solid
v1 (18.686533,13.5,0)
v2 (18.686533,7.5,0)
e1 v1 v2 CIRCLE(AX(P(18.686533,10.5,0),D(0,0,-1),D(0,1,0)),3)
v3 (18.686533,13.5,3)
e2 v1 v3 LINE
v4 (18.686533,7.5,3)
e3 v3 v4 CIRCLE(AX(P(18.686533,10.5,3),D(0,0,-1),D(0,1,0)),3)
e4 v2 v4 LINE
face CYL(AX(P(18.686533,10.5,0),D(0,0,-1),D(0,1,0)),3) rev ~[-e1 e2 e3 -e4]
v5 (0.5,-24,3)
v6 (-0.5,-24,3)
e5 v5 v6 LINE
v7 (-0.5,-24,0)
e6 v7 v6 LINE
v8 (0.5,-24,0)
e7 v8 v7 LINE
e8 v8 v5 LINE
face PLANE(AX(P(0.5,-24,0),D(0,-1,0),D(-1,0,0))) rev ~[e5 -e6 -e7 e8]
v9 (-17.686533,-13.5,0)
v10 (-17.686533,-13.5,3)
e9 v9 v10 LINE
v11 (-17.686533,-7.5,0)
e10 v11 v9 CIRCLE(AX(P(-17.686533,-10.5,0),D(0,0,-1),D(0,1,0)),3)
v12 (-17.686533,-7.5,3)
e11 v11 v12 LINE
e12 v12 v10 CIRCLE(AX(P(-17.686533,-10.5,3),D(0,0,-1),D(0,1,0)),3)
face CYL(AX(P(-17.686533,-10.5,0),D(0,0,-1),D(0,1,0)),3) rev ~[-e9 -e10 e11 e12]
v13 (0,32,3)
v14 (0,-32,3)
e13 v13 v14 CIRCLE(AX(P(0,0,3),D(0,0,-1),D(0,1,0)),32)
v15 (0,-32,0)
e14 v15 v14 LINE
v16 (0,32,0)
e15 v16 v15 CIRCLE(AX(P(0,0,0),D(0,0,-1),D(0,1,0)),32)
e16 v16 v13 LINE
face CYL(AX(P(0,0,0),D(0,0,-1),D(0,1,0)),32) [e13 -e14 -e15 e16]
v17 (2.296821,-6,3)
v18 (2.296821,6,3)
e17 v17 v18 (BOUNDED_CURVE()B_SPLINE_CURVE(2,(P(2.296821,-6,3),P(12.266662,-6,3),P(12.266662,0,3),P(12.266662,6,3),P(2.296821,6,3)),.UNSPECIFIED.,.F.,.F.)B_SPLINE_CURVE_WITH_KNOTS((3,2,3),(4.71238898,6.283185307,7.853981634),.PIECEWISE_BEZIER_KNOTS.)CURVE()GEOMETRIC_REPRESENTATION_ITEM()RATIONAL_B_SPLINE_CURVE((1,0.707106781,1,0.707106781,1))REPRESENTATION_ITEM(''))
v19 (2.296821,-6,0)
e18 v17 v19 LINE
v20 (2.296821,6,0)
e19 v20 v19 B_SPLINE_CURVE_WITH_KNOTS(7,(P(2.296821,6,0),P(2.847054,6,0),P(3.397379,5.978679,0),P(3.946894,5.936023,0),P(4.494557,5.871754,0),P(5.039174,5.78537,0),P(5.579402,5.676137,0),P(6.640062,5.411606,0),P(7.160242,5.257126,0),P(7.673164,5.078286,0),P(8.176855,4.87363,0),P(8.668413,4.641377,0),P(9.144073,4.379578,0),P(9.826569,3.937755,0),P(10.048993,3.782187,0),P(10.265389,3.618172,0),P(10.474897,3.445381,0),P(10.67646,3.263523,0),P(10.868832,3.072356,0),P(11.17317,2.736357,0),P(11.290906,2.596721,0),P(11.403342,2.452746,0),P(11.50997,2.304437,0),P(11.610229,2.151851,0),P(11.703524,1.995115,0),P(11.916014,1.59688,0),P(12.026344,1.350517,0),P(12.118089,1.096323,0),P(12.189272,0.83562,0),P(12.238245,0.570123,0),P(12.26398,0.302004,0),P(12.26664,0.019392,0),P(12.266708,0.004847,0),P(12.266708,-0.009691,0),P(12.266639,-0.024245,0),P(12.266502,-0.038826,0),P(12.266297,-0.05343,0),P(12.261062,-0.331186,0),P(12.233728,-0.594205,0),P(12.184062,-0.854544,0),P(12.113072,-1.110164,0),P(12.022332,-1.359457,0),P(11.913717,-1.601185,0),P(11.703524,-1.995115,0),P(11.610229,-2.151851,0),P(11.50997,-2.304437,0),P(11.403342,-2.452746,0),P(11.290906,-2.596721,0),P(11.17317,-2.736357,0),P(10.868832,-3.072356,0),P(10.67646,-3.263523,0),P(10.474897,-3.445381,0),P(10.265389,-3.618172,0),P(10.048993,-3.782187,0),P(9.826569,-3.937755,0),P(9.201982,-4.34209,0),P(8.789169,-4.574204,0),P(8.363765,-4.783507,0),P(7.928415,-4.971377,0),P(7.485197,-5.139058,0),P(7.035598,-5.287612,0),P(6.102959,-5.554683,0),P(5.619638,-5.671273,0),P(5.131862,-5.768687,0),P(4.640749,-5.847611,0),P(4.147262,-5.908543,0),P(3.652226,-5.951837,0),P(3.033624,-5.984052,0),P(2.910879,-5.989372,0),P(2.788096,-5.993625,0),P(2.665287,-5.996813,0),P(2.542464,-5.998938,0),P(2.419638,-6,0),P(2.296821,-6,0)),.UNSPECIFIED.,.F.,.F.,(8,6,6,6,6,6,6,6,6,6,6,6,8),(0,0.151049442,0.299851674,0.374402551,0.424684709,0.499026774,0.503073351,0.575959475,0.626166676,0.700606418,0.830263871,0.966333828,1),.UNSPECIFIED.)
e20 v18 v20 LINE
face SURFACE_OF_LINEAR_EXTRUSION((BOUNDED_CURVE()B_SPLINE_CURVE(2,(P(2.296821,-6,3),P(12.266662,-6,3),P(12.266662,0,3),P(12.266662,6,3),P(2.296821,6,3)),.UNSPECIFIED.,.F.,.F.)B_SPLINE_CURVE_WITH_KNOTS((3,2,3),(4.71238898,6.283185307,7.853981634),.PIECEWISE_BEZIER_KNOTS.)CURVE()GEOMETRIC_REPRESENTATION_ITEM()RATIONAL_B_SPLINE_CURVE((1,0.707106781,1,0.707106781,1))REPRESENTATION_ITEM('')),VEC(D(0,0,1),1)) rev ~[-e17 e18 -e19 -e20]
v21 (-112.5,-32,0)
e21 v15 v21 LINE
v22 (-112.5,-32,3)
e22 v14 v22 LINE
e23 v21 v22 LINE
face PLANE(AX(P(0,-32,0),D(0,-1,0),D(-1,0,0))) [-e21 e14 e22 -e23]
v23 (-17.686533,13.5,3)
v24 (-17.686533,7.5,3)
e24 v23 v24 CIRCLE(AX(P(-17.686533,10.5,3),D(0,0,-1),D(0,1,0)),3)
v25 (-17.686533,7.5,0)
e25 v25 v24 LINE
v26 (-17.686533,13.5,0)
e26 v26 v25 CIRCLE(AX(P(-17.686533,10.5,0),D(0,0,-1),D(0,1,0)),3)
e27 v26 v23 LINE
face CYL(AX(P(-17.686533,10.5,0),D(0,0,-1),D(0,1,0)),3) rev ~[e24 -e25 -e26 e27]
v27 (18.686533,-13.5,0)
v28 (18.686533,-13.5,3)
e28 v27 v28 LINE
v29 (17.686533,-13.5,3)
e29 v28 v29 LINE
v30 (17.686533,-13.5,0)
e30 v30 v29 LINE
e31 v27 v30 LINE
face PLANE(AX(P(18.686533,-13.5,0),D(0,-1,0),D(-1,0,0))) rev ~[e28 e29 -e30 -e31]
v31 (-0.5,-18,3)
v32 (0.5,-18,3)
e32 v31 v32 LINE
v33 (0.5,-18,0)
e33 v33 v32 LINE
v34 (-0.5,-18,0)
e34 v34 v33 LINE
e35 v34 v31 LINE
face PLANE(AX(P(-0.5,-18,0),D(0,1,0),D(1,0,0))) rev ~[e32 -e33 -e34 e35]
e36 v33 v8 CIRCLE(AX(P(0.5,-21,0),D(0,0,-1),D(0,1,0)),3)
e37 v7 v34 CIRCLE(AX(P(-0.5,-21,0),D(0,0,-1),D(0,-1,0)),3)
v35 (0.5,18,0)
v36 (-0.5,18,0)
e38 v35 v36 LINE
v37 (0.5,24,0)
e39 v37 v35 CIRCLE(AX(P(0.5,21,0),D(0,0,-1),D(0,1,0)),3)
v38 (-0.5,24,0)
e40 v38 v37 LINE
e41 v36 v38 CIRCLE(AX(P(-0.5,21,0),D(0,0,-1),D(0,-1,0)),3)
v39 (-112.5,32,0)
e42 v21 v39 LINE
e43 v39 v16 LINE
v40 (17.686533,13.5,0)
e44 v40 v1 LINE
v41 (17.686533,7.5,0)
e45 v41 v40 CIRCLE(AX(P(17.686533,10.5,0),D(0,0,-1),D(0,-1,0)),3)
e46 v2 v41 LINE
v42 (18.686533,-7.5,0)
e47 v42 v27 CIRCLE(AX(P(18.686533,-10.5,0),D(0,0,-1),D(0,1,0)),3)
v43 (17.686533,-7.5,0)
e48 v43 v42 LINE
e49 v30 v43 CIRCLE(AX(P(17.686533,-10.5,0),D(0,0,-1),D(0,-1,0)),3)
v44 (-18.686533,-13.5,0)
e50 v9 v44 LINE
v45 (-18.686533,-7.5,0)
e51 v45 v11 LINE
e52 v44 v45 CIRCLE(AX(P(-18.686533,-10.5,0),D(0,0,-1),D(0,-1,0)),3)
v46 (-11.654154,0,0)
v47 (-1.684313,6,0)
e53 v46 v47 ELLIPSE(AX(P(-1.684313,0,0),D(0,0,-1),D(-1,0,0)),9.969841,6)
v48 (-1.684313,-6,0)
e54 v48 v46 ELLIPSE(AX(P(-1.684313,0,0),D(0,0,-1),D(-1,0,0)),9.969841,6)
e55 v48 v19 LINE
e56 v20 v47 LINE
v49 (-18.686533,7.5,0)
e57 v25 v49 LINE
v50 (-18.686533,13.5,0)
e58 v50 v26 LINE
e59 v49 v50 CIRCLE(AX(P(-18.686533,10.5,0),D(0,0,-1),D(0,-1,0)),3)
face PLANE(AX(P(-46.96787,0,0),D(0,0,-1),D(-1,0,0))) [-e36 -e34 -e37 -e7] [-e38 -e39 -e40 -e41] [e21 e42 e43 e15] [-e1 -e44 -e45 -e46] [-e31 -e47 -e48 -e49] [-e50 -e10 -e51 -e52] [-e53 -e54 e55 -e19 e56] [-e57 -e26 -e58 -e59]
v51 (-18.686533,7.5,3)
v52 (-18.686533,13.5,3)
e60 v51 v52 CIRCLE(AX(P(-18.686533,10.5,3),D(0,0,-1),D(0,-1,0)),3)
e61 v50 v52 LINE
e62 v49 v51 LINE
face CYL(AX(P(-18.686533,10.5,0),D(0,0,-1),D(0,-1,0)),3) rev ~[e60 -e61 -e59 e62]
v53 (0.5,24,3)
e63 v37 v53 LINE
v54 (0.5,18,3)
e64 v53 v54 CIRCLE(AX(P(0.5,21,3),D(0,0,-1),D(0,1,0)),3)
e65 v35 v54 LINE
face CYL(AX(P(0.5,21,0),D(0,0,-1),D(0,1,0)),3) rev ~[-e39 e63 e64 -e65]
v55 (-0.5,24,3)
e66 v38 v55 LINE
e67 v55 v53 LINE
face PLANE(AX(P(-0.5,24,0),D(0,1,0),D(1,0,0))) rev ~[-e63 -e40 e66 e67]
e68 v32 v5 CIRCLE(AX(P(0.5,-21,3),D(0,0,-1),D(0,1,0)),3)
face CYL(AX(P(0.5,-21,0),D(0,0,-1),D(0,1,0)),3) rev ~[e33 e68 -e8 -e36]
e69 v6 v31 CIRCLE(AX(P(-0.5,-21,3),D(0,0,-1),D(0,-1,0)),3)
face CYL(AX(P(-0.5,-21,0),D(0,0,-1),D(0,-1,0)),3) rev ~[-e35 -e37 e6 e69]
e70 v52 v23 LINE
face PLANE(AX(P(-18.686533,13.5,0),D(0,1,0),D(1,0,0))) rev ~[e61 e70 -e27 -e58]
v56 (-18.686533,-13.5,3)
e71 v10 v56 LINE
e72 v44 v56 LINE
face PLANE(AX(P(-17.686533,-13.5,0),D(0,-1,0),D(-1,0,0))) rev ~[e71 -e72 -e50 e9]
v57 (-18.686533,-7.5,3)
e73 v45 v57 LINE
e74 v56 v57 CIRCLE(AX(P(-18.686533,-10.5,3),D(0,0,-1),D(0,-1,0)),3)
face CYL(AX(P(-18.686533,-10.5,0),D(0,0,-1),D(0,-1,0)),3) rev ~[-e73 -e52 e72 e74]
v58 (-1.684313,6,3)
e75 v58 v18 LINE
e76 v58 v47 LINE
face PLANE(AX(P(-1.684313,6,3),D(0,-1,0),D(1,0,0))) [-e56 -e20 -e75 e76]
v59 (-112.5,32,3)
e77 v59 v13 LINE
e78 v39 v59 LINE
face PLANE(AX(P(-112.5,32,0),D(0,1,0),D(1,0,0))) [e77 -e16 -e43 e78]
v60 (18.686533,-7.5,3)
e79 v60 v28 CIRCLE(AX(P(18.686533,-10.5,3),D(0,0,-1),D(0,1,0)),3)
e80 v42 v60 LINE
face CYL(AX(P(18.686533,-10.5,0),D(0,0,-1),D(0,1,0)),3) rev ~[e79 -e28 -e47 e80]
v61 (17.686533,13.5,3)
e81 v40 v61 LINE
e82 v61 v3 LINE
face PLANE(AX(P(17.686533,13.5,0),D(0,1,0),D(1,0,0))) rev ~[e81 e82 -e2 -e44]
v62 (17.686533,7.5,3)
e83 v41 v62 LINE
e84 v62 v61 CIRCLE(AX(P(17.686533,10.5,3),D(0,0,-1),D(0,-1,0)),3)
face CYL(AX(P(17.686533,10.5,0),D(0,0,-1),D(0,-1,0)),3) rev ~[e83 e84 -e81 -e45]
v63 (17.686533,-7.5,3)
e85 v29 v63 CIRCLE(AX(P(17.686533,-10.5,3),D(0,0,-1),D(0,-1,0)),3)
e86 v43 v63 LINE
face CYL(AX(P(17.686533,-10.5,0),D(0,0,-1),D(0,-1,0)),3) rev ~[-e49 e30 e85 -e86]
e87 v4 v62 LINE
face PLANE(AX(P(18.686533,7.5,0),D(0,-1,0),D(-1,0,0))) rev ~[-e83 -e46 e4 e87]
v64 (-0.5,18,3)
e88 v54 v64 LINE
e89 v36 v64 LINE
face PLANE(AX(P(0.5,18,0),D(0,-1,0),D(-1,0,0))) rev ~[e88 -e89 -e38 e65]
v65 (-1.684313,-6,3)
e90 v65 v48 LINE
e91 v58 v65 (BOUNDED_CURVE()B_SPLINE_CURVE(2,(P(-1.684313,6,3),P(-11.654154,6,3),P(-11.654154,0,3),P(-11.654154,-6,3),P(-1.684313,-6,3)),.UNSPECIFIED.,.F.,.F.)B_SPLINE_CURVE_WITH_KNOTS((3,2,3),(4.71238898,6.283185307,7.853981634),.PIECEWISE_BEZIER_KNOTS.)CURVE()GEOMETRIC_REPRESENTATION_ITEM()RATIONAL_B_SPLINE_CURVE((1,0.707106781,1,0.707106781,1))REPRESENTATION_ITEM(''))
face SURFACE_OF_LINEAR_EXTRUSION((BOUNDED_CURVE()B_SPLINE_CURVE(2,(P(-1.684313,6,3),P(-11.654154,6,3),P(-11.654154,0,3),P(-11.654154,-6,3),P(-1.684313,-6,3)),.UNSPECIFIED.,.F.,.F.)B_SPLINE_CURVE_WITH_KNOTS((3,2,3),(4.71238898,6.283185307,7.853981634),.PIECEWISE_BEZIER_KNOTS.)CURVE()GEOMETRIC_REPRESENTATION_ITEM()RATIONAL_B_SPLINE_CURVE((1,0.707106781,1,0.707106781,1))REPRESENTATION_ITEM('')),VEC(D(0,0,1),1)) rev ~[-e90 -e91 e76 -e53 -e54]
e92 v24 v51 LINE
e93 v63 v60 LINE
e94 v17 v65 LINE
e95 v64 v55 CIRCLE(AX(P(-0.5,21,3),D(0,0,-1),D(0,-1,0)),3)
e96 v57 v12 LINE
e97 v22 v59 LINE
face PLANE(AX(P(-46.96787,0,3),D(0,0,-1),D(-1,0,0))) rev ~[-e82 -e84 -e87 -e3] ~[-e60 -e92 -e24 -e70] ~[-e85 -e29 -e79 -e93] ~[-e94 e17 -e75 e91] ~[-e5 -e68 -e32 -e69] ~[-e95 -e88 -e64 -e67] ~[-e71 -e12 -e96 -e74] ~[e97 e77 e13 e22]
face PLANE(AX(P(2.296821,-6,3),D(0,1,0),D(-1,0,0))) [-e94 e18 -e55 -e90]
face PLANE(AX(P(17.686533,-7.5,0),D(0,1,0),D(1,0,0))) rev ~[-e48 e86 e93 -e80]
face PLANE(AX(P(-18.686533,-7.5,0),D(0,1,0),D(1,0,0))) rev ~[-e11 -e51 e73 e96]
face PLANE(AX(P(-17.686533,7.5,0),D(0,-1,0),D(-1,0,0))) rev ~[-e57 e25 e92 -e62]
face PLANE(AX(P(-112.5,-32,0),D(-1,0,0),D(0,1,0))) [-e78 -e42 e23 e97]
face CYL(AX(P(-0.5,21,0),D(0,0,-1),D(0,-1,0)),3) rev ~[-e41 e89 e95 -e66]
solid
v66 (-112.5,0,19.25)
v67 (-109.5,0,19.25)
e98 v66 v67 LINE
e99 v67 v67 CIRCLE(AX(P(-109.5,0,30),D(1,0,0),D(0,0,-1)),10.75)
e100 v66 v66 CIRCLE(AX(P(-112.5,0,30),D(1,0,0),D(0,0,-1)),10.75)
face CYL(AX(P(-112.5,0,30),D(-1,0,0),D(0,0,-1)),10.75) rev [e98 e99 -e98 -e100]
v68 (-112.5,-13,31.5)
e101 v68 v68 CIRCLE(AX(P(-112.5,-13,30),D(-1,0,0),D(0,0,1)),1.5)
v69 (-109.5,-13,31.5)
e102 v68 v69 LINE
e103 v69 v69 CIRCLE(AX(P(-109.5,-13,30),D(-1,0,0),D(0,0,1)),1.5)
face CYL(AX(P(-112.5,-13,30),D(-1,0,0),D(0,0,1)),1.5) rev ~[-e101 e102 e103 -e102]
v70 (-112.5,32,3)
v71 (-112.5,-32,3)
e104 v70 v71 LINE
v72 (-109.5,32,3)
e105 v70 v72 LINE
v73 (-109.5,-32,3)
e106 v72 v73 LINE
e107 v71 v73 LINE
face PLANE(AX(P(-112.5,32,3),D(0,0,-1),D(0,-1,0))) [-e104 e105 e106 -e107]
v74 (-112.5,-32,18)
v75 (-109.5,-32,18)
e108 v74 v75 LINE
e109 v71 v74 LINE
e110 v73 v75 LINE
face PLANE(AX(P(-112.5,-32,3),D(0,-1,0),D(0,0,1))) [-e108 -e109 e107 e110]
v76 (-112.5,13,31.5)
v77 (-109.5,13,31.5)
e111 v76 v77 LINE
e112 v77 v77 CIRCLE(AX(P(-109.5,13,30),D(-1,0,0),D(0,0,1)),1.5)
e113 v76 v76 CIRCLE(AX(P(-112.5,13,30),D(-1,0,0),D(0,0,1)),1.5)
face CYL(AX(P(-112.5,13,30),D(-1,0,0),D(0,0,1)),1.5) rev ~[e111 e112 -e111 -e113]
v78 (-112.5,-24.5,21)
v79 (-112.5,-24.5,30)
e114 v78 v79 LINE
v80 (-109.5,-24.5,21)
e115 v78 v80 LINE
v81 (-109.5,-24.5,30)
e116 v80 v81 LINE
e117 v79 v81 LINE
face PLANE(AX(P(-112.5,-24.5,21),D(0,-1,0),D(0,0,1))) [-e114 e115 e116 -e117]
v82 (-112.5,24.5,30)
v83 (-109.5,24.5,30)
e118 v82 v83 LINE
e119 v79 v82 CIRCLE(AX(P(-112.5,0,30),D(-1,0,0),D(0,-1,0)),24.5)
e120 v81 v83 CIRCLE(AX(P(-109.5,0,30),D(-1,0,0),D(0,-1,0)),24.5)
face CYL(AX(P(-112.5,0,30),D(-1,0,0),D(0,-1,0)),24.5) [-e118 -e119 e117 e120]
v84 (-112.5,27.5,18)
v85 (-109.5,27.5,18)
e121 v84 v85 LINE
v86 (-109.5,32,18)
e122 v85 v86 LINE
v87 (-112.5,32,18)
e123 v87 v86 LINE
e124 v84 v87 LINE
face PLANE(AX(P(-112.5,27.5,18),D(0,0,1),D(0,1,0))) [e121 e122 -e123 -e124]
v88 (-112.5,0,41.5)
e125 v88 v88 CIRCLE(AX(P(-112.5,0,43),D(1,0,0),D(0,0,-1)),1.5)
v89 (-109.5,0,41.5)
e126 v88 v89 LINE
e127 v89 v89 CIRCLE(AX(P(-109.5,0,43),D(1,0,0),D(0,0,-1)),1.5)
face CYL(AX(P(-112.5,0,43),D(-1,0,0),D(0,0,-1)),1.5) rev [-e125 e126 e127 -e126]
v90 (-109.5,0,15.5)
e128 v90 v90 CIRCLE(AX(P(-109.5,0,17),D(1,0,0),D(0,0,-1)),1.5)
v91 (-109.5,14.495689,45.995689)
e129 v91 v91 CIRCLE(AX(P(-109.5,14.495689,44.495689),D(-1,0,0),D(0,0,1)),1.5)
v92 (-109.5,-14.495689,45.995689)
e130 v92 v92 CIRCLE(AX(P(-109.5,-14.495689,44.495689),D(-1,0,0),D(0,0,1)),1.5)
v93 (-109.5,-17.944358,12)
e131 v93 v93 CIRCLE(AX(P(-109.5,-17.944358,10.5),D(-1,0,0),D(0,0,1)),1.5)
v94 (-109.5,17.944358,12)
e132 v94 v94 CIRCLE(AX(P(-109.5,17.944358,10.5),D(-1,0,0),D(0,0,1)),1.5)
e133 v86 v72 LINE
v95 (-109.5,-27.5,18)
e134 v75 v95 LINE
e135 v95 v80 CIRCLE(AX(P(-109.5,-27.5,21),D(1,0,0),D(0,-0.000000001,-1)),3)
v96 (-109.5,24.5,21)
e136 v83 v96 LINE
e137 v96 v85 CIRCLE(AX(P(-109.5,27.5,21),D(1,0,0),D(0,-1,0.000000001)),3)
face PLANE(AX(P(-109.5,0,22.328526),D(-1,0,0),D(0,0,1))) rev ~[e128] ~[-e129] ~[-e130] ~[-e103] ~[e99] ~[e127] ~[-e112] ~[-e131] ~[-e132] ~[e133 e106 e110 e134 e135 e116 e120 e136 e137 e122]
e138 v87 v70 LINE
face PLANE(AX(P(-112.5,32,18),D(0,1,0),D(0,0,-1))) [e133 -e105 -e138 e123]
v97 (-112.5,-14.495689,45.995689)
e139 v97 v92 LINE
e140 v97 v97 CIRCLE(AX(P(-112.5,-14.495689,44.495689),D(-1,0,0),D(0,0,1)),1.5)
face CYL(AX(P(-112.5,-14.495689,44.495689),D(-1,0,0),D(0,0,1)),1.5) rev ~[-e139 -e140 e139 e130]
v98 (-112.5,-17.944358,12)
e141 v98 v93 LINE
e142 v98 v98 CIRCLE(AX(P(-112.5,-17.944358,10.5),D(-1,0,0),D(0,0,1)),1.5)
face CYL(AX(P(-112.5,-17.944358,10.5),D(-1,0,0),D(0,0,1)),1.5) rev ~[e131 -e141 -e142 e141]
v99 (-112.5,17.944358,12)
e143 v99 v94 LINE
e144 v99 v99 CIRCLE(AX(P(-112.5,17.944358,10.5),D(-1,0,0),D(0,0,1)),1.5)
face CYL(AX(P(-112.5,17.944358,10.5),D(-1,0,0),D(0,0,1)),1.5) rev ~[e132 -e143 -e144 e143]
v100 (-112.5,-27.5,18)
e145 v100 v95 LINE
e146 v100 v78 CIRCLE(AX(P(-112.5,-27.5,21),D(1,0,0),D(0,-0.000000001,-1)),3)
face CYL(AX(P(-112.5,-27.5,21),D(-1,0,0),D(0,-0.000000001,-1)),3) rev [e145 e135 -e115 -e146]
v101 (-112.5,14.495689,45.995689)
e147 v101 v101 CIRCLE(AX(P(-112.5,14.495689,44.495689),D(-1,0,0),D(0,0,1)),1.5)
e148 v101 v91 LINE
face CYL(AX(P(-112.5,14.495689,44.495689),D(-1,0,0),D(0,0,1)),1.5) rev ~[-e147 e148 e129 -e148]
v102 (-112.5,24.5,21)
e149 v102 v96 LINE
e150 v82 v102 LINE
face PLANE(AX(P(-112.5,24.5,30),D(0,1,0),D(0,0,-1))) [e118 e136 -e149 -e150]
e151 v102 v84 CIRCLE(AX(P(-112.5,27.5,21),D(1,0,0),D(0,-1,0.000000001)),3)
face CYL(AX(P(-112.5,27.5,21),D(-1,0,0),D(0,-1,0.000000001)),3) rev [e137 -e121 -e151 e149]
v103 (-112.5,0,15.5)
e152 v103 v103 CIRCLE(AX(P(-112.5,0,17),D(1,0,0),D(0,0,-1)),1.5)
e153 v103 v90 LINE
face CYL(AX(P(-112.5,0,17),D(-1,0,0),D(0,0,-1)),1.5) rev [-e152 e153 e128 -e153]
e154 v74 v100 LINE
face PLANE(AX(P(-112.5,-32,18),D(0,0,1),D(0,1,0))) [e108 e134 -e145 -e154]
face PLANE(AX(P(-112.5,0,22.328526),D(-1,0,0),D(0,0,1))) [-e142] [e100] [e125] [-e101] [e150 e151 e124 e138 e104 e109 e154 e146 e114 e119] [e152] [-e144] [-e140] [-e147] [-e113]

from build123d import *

# Parameters (mm, degrees)
BOSS_EXTRUDE1_DEPTH = 3
SKETCH2_R           = 1.5
BOSS_EXTRUDE2_DEPTH = 3
SKETCH3_R           = 6
CUT_EXTRUDE1_DEPTH  = 150.495916109
CUT_EXTRUDE2_DEPTH  = 128.79866979


with BuildPart() as part:
    # Sketch1 → Boss-Extrude1 (new body)
    with BuildSketch(Plane.XY):
        with BuildLine():
            Line((-112.5, 32), (0, 32))
            ThreePointArc((0, 32), (32, 0), (0, -32))
            Line((0, -32), (-112.5, -32))
            Line((-112.5, -32), (-112.5, 32))
        make_face()
        with BuildLine():
            Line((17.686533479, 13.5), (18.686533479, 13.5))
            ThreePointArc((18.686533479, 13.5), (21.686533479, 10.5), (18.686533479, 7.5))
            Line((18.686533479, 7.5), (17.686533479, 7.5))
            ThreePointArc((17.686533479, 7.5), (14.686533479, 10.5), (17.686533479, 13.5))
        make_face(mode=Mode.SUBTRACT)
        with BuildLine():
            Line((17.686533479, -7.5), (18.686533479, -7.5))
            ThreePointArc((18.686533479, -7.5), (21.686533479, -10.5), (18.686533479, -13.5))
            Line((18.686533479, -13.5), (17.686533479, -13.5))
            ThreePointArc((17.686533479, -13.5), (14.686533479, -10.5), (17.686533479, -7.5))
        make_face(mode=Mode.SUBTRACT)
        with BuildLine():
            Line((-0.5, -18), (0.5, -18))
            ThreePointArc((0.5, -18), (3.5, -21), (0.5, -24))
            Line((0.5, -24), (-0.5, -24))
            ThreePointArc((-0.5, -24), (-3.5, -21), (-0.5, -18))
        make_face(mode=Mode.SUBTRACT)
        with BuildLine():
            Line((-18.686533479, -7.5), (-17.686533479, -7.5))
            ThreePointArc((-17.686533479, -7.5), (-14.686533479, -10.5), (-17.686533479, -13.5))
            Line((-17.686533479, -13.5), (-18.686533479, -13.5))
            ThreePointArc((-18.686533479, -13.5), (-21.686533479, -10.5), (-18.686533479, -7.5))
        make_face(mode=Mode.SUBTRACT)
        with BuildLine():
            Line((-17.686533479, 7.5), (-18.686533479, 7.5))
            ThreePointArc((-18.686533479, 7.5), (-21.686533479, 10.5), (-18.686533479, 13.5))
            Line((-18.686533479, 13.5), (-17.686533479, 13.5))
            ThreePointArc((-17.686533479, 13.5), (-14.686533479, 10.5), (-17.686533479, 7.5))
        make_face(mode=Mode.SUBTRACT)
        with BuildLine():
            Line((0.5, 18), (-0.5, 18))
            ThreePointArc((-0.5, 18), (-3.5, 21), (-0.5, 24))
            Line((-0.5, 24), (0.5, 24))
            ThreePointArc((0.5, 24), (3.5, 21), (0.5, 18))
        make_face(mode=Mode.SUBTRACT)
    extrude(amount=BOSS_EXTRUDE1_DEPTH)

    # Sketch3 → Cut-Extrude1 (cut, through all)
    with BuildSketch(Plane(origin=(-68.399252687, 0, -51.542533886), x_dir=(0, 1, 0), z_dir=(0.798635510047294, 0, 0.6018150231520466))):
        with Locations(Location((0, 1.0136449, 0), (0, 0, 90))):
            Circle(SKETCH3_R)
    extrude(amount=CUT_EXTRUDE1_DEPTH, mode=Mode.SUBTRACT)

    # Sketch4 → Cut-Extrude2 (cut, through all)
    with BuildSketch(Plane.XY.offset(3)):
        with BuildLine():
            Line((2.296821411, -6), (-1.684313054, -6))
            add(Edge.make_bspline(
                [(-1.684313054, 6), (-11.654153901, 6), (-11.654153901, 0), (-11.654153901, -6), (-1.684313054, -6)],
                knots=[4.71238898, 4.71238898, 4.71238898, 6.283185307, 6.283185307, 7.853981634, 7.853981634, 7.853981634], degree=2, weights=[1, 0.707106781, 1, 0.707106781, 1]))
            Line((-1.684313054, 6), (2.296821411, 6))
            add(Edge.make_bspline(
                [(2.296821411, -6), (12.266662258, -6), (12.266662258, 0), (12.266662258, 6), (2.296821411, 6)],
                knots=[4.71238898, 4.71238898, 4.71238898, 6.283185307, 6.283185307, 7.853981634, 7.853981634, 7.853981634], degree=2, weights=[1, 0.707106781, 1, 0.707106781, 1]))
        make_face()
    extrude(amount=-CUT_EXTRUDE2_DEPTH, mode=Mode.SUBTRACT)


with BuildPart() as body_2:
    # Sketch2 → Boss-Extrude2 (new body)
    # profile 1 of 2: a face of its own
    with BuildSketch(Plane.ZY.offset(112.5)):
        with BuildLine():
            Line((3, 0), (3, -32))
            Line((3, -32), (18, -32))
            Line((18, -32), (18, -27.5))
            ThreePointArc((18, -27.5), (18.878679656, -25.378679656), (21, -24.5))
            Line((21, -24.5), (30, -24.5))
            ThreePointArc((30, -24.5), (54.5, 0), (30, 24.5))
            Line((30, 24.5), (21, 24.5))
            ThreePointArc((21, 24.5), (18.878679656, 25.378679656), (18, 27.5))
            Line((18, 27.5), (18, 32))
            Line((18, 32), (3, 32))
            Line((3, 32), (3, 0))
        make_face()
        with Locations((10.5, -17.944358445)):
            Circle(SKETCH2_R, mode=Mode.SUBTRACT)
        with BuildLine():
            ThreePointArc((18.5, 0), (17, -1.5), (15.5, 0))
            ThreePointArc((15.5, 0), (17, 1.5), (18.5, 0))
        make_face(mode=Mode.SUBTRACT)
        with Locations((30, -13)):
            Circle(SKETCH2_R, mode=Mode.SUBTRACT)
        with Locations((44.495689014, -14.495689014)):
            Circle(SKETCH2_R, mode=Mode.SUBTRACT)
        with Locations((10.5, 17.944358445)):
            Circle(SKETCH2_R, mode=Mode.SUBTRACT)
        with BuildLine():
            ThreePointArc((40.75, 0), (30, -10.75), (19.25, 0))
            ThreePointArc((19.25, 0), (30, 10.75), (40.75, 0))
        make_face(mode=Mode.SUBTRACT)
        with Locations((30, 13)):
            Circle(SKETCH2_R, mode=Mode.SUBTRACT)
        with BuildLine():
            ThreePointArc((44.5, 0), (43, -1.5), (41.5, 0))
            ThreePointArc((41.5, 0), (43, 1.5), (44.5, 0))
        make_face(mode=Mode.SUBTRACT)
        with Locations((44.495689014, 14.495689014)):
            Circle(SKETCH2_R, mode=Mode.SUBTRACT)
    # profile 2 of 2: a face of its own
    with BuildSketch(Plane.ZY.offset(112.5)):
        with BuildLine():
            Line((3, 0), (3, -32))
            Line((3, -32), (18, -32))
            Line((18, -32), (18, -27.5))
            ThreePointArc((18, -27.5), (18.878679656, -25.378679656), (21, -24.5))
            Line((21, -24.5), (30, -24.5))
            ThreePointArc((30, -24.5), (54.5, 0), (30, 24.5))
            Line((30, 24.5), (21, 24.5))
            ThreePointArc((21, 24.5), (18.878679656, 25.378679656), (18, 27.5))
            Line((18, 27.5), (18, 32))
            Line((18, 32), (3, 32))
            Line((3, 32), (3, 0))
        make_face()
        with Locations((10.5, -17.944358445)):
            Circle(SKETCH2_R, mode=Mode.SUBTRACT)
        with BuildLine():
            ThreePointArc((18.5, 0), (17, -1.5), (15.5, 0))
            ThreePointArc((15.5, 0), (17, 1.5), (18.5, 0))
        make_face(mode=Mode.SUBTRACT)
        with Locations((30, -13)):
            Circle(SKETCH2_R, mode=Mode.SUBTRACT)
        with Locations((44.495689014, -14.495689014)):
            Circle(SKETCH2_R, mode=Mode.SUBTRACT)
        with Locations((10.5, 17.944358445)):
            Circle(SKETCH2_R, mode=Mode.SUBTRACT)
        with BuildLine():
            ThreePointArc((40.75, 0), (30, -10.75), (19.25, 0))
            ThreePointArc((19.25, 0), (30, 10.75), (40.75, 0))
        make_face(mode=Mode.SUBTRACT)
        with Locations((30, 13)):
            Circle(SKETCH2_R, mode=Mode.SUBTRACT)
        with BuildLine():
            ThreePointArc((44.5, 0), (43, -1.5), (41.5, 0))
            ThreePointArc((41.5, 0), (43, 1.5), (44.5, 0))
        make_face(mode=Mode.SUBTRACT)
        with Locations((44.495689014, 14.495689014)):
            Circle(SKETCH2_R, mode=Mode.SUBTRACT)
    extrude(amount=-BOSS_EXTRUDE2_DEPTH)


solid = Compound([part.part, body_2.part])
